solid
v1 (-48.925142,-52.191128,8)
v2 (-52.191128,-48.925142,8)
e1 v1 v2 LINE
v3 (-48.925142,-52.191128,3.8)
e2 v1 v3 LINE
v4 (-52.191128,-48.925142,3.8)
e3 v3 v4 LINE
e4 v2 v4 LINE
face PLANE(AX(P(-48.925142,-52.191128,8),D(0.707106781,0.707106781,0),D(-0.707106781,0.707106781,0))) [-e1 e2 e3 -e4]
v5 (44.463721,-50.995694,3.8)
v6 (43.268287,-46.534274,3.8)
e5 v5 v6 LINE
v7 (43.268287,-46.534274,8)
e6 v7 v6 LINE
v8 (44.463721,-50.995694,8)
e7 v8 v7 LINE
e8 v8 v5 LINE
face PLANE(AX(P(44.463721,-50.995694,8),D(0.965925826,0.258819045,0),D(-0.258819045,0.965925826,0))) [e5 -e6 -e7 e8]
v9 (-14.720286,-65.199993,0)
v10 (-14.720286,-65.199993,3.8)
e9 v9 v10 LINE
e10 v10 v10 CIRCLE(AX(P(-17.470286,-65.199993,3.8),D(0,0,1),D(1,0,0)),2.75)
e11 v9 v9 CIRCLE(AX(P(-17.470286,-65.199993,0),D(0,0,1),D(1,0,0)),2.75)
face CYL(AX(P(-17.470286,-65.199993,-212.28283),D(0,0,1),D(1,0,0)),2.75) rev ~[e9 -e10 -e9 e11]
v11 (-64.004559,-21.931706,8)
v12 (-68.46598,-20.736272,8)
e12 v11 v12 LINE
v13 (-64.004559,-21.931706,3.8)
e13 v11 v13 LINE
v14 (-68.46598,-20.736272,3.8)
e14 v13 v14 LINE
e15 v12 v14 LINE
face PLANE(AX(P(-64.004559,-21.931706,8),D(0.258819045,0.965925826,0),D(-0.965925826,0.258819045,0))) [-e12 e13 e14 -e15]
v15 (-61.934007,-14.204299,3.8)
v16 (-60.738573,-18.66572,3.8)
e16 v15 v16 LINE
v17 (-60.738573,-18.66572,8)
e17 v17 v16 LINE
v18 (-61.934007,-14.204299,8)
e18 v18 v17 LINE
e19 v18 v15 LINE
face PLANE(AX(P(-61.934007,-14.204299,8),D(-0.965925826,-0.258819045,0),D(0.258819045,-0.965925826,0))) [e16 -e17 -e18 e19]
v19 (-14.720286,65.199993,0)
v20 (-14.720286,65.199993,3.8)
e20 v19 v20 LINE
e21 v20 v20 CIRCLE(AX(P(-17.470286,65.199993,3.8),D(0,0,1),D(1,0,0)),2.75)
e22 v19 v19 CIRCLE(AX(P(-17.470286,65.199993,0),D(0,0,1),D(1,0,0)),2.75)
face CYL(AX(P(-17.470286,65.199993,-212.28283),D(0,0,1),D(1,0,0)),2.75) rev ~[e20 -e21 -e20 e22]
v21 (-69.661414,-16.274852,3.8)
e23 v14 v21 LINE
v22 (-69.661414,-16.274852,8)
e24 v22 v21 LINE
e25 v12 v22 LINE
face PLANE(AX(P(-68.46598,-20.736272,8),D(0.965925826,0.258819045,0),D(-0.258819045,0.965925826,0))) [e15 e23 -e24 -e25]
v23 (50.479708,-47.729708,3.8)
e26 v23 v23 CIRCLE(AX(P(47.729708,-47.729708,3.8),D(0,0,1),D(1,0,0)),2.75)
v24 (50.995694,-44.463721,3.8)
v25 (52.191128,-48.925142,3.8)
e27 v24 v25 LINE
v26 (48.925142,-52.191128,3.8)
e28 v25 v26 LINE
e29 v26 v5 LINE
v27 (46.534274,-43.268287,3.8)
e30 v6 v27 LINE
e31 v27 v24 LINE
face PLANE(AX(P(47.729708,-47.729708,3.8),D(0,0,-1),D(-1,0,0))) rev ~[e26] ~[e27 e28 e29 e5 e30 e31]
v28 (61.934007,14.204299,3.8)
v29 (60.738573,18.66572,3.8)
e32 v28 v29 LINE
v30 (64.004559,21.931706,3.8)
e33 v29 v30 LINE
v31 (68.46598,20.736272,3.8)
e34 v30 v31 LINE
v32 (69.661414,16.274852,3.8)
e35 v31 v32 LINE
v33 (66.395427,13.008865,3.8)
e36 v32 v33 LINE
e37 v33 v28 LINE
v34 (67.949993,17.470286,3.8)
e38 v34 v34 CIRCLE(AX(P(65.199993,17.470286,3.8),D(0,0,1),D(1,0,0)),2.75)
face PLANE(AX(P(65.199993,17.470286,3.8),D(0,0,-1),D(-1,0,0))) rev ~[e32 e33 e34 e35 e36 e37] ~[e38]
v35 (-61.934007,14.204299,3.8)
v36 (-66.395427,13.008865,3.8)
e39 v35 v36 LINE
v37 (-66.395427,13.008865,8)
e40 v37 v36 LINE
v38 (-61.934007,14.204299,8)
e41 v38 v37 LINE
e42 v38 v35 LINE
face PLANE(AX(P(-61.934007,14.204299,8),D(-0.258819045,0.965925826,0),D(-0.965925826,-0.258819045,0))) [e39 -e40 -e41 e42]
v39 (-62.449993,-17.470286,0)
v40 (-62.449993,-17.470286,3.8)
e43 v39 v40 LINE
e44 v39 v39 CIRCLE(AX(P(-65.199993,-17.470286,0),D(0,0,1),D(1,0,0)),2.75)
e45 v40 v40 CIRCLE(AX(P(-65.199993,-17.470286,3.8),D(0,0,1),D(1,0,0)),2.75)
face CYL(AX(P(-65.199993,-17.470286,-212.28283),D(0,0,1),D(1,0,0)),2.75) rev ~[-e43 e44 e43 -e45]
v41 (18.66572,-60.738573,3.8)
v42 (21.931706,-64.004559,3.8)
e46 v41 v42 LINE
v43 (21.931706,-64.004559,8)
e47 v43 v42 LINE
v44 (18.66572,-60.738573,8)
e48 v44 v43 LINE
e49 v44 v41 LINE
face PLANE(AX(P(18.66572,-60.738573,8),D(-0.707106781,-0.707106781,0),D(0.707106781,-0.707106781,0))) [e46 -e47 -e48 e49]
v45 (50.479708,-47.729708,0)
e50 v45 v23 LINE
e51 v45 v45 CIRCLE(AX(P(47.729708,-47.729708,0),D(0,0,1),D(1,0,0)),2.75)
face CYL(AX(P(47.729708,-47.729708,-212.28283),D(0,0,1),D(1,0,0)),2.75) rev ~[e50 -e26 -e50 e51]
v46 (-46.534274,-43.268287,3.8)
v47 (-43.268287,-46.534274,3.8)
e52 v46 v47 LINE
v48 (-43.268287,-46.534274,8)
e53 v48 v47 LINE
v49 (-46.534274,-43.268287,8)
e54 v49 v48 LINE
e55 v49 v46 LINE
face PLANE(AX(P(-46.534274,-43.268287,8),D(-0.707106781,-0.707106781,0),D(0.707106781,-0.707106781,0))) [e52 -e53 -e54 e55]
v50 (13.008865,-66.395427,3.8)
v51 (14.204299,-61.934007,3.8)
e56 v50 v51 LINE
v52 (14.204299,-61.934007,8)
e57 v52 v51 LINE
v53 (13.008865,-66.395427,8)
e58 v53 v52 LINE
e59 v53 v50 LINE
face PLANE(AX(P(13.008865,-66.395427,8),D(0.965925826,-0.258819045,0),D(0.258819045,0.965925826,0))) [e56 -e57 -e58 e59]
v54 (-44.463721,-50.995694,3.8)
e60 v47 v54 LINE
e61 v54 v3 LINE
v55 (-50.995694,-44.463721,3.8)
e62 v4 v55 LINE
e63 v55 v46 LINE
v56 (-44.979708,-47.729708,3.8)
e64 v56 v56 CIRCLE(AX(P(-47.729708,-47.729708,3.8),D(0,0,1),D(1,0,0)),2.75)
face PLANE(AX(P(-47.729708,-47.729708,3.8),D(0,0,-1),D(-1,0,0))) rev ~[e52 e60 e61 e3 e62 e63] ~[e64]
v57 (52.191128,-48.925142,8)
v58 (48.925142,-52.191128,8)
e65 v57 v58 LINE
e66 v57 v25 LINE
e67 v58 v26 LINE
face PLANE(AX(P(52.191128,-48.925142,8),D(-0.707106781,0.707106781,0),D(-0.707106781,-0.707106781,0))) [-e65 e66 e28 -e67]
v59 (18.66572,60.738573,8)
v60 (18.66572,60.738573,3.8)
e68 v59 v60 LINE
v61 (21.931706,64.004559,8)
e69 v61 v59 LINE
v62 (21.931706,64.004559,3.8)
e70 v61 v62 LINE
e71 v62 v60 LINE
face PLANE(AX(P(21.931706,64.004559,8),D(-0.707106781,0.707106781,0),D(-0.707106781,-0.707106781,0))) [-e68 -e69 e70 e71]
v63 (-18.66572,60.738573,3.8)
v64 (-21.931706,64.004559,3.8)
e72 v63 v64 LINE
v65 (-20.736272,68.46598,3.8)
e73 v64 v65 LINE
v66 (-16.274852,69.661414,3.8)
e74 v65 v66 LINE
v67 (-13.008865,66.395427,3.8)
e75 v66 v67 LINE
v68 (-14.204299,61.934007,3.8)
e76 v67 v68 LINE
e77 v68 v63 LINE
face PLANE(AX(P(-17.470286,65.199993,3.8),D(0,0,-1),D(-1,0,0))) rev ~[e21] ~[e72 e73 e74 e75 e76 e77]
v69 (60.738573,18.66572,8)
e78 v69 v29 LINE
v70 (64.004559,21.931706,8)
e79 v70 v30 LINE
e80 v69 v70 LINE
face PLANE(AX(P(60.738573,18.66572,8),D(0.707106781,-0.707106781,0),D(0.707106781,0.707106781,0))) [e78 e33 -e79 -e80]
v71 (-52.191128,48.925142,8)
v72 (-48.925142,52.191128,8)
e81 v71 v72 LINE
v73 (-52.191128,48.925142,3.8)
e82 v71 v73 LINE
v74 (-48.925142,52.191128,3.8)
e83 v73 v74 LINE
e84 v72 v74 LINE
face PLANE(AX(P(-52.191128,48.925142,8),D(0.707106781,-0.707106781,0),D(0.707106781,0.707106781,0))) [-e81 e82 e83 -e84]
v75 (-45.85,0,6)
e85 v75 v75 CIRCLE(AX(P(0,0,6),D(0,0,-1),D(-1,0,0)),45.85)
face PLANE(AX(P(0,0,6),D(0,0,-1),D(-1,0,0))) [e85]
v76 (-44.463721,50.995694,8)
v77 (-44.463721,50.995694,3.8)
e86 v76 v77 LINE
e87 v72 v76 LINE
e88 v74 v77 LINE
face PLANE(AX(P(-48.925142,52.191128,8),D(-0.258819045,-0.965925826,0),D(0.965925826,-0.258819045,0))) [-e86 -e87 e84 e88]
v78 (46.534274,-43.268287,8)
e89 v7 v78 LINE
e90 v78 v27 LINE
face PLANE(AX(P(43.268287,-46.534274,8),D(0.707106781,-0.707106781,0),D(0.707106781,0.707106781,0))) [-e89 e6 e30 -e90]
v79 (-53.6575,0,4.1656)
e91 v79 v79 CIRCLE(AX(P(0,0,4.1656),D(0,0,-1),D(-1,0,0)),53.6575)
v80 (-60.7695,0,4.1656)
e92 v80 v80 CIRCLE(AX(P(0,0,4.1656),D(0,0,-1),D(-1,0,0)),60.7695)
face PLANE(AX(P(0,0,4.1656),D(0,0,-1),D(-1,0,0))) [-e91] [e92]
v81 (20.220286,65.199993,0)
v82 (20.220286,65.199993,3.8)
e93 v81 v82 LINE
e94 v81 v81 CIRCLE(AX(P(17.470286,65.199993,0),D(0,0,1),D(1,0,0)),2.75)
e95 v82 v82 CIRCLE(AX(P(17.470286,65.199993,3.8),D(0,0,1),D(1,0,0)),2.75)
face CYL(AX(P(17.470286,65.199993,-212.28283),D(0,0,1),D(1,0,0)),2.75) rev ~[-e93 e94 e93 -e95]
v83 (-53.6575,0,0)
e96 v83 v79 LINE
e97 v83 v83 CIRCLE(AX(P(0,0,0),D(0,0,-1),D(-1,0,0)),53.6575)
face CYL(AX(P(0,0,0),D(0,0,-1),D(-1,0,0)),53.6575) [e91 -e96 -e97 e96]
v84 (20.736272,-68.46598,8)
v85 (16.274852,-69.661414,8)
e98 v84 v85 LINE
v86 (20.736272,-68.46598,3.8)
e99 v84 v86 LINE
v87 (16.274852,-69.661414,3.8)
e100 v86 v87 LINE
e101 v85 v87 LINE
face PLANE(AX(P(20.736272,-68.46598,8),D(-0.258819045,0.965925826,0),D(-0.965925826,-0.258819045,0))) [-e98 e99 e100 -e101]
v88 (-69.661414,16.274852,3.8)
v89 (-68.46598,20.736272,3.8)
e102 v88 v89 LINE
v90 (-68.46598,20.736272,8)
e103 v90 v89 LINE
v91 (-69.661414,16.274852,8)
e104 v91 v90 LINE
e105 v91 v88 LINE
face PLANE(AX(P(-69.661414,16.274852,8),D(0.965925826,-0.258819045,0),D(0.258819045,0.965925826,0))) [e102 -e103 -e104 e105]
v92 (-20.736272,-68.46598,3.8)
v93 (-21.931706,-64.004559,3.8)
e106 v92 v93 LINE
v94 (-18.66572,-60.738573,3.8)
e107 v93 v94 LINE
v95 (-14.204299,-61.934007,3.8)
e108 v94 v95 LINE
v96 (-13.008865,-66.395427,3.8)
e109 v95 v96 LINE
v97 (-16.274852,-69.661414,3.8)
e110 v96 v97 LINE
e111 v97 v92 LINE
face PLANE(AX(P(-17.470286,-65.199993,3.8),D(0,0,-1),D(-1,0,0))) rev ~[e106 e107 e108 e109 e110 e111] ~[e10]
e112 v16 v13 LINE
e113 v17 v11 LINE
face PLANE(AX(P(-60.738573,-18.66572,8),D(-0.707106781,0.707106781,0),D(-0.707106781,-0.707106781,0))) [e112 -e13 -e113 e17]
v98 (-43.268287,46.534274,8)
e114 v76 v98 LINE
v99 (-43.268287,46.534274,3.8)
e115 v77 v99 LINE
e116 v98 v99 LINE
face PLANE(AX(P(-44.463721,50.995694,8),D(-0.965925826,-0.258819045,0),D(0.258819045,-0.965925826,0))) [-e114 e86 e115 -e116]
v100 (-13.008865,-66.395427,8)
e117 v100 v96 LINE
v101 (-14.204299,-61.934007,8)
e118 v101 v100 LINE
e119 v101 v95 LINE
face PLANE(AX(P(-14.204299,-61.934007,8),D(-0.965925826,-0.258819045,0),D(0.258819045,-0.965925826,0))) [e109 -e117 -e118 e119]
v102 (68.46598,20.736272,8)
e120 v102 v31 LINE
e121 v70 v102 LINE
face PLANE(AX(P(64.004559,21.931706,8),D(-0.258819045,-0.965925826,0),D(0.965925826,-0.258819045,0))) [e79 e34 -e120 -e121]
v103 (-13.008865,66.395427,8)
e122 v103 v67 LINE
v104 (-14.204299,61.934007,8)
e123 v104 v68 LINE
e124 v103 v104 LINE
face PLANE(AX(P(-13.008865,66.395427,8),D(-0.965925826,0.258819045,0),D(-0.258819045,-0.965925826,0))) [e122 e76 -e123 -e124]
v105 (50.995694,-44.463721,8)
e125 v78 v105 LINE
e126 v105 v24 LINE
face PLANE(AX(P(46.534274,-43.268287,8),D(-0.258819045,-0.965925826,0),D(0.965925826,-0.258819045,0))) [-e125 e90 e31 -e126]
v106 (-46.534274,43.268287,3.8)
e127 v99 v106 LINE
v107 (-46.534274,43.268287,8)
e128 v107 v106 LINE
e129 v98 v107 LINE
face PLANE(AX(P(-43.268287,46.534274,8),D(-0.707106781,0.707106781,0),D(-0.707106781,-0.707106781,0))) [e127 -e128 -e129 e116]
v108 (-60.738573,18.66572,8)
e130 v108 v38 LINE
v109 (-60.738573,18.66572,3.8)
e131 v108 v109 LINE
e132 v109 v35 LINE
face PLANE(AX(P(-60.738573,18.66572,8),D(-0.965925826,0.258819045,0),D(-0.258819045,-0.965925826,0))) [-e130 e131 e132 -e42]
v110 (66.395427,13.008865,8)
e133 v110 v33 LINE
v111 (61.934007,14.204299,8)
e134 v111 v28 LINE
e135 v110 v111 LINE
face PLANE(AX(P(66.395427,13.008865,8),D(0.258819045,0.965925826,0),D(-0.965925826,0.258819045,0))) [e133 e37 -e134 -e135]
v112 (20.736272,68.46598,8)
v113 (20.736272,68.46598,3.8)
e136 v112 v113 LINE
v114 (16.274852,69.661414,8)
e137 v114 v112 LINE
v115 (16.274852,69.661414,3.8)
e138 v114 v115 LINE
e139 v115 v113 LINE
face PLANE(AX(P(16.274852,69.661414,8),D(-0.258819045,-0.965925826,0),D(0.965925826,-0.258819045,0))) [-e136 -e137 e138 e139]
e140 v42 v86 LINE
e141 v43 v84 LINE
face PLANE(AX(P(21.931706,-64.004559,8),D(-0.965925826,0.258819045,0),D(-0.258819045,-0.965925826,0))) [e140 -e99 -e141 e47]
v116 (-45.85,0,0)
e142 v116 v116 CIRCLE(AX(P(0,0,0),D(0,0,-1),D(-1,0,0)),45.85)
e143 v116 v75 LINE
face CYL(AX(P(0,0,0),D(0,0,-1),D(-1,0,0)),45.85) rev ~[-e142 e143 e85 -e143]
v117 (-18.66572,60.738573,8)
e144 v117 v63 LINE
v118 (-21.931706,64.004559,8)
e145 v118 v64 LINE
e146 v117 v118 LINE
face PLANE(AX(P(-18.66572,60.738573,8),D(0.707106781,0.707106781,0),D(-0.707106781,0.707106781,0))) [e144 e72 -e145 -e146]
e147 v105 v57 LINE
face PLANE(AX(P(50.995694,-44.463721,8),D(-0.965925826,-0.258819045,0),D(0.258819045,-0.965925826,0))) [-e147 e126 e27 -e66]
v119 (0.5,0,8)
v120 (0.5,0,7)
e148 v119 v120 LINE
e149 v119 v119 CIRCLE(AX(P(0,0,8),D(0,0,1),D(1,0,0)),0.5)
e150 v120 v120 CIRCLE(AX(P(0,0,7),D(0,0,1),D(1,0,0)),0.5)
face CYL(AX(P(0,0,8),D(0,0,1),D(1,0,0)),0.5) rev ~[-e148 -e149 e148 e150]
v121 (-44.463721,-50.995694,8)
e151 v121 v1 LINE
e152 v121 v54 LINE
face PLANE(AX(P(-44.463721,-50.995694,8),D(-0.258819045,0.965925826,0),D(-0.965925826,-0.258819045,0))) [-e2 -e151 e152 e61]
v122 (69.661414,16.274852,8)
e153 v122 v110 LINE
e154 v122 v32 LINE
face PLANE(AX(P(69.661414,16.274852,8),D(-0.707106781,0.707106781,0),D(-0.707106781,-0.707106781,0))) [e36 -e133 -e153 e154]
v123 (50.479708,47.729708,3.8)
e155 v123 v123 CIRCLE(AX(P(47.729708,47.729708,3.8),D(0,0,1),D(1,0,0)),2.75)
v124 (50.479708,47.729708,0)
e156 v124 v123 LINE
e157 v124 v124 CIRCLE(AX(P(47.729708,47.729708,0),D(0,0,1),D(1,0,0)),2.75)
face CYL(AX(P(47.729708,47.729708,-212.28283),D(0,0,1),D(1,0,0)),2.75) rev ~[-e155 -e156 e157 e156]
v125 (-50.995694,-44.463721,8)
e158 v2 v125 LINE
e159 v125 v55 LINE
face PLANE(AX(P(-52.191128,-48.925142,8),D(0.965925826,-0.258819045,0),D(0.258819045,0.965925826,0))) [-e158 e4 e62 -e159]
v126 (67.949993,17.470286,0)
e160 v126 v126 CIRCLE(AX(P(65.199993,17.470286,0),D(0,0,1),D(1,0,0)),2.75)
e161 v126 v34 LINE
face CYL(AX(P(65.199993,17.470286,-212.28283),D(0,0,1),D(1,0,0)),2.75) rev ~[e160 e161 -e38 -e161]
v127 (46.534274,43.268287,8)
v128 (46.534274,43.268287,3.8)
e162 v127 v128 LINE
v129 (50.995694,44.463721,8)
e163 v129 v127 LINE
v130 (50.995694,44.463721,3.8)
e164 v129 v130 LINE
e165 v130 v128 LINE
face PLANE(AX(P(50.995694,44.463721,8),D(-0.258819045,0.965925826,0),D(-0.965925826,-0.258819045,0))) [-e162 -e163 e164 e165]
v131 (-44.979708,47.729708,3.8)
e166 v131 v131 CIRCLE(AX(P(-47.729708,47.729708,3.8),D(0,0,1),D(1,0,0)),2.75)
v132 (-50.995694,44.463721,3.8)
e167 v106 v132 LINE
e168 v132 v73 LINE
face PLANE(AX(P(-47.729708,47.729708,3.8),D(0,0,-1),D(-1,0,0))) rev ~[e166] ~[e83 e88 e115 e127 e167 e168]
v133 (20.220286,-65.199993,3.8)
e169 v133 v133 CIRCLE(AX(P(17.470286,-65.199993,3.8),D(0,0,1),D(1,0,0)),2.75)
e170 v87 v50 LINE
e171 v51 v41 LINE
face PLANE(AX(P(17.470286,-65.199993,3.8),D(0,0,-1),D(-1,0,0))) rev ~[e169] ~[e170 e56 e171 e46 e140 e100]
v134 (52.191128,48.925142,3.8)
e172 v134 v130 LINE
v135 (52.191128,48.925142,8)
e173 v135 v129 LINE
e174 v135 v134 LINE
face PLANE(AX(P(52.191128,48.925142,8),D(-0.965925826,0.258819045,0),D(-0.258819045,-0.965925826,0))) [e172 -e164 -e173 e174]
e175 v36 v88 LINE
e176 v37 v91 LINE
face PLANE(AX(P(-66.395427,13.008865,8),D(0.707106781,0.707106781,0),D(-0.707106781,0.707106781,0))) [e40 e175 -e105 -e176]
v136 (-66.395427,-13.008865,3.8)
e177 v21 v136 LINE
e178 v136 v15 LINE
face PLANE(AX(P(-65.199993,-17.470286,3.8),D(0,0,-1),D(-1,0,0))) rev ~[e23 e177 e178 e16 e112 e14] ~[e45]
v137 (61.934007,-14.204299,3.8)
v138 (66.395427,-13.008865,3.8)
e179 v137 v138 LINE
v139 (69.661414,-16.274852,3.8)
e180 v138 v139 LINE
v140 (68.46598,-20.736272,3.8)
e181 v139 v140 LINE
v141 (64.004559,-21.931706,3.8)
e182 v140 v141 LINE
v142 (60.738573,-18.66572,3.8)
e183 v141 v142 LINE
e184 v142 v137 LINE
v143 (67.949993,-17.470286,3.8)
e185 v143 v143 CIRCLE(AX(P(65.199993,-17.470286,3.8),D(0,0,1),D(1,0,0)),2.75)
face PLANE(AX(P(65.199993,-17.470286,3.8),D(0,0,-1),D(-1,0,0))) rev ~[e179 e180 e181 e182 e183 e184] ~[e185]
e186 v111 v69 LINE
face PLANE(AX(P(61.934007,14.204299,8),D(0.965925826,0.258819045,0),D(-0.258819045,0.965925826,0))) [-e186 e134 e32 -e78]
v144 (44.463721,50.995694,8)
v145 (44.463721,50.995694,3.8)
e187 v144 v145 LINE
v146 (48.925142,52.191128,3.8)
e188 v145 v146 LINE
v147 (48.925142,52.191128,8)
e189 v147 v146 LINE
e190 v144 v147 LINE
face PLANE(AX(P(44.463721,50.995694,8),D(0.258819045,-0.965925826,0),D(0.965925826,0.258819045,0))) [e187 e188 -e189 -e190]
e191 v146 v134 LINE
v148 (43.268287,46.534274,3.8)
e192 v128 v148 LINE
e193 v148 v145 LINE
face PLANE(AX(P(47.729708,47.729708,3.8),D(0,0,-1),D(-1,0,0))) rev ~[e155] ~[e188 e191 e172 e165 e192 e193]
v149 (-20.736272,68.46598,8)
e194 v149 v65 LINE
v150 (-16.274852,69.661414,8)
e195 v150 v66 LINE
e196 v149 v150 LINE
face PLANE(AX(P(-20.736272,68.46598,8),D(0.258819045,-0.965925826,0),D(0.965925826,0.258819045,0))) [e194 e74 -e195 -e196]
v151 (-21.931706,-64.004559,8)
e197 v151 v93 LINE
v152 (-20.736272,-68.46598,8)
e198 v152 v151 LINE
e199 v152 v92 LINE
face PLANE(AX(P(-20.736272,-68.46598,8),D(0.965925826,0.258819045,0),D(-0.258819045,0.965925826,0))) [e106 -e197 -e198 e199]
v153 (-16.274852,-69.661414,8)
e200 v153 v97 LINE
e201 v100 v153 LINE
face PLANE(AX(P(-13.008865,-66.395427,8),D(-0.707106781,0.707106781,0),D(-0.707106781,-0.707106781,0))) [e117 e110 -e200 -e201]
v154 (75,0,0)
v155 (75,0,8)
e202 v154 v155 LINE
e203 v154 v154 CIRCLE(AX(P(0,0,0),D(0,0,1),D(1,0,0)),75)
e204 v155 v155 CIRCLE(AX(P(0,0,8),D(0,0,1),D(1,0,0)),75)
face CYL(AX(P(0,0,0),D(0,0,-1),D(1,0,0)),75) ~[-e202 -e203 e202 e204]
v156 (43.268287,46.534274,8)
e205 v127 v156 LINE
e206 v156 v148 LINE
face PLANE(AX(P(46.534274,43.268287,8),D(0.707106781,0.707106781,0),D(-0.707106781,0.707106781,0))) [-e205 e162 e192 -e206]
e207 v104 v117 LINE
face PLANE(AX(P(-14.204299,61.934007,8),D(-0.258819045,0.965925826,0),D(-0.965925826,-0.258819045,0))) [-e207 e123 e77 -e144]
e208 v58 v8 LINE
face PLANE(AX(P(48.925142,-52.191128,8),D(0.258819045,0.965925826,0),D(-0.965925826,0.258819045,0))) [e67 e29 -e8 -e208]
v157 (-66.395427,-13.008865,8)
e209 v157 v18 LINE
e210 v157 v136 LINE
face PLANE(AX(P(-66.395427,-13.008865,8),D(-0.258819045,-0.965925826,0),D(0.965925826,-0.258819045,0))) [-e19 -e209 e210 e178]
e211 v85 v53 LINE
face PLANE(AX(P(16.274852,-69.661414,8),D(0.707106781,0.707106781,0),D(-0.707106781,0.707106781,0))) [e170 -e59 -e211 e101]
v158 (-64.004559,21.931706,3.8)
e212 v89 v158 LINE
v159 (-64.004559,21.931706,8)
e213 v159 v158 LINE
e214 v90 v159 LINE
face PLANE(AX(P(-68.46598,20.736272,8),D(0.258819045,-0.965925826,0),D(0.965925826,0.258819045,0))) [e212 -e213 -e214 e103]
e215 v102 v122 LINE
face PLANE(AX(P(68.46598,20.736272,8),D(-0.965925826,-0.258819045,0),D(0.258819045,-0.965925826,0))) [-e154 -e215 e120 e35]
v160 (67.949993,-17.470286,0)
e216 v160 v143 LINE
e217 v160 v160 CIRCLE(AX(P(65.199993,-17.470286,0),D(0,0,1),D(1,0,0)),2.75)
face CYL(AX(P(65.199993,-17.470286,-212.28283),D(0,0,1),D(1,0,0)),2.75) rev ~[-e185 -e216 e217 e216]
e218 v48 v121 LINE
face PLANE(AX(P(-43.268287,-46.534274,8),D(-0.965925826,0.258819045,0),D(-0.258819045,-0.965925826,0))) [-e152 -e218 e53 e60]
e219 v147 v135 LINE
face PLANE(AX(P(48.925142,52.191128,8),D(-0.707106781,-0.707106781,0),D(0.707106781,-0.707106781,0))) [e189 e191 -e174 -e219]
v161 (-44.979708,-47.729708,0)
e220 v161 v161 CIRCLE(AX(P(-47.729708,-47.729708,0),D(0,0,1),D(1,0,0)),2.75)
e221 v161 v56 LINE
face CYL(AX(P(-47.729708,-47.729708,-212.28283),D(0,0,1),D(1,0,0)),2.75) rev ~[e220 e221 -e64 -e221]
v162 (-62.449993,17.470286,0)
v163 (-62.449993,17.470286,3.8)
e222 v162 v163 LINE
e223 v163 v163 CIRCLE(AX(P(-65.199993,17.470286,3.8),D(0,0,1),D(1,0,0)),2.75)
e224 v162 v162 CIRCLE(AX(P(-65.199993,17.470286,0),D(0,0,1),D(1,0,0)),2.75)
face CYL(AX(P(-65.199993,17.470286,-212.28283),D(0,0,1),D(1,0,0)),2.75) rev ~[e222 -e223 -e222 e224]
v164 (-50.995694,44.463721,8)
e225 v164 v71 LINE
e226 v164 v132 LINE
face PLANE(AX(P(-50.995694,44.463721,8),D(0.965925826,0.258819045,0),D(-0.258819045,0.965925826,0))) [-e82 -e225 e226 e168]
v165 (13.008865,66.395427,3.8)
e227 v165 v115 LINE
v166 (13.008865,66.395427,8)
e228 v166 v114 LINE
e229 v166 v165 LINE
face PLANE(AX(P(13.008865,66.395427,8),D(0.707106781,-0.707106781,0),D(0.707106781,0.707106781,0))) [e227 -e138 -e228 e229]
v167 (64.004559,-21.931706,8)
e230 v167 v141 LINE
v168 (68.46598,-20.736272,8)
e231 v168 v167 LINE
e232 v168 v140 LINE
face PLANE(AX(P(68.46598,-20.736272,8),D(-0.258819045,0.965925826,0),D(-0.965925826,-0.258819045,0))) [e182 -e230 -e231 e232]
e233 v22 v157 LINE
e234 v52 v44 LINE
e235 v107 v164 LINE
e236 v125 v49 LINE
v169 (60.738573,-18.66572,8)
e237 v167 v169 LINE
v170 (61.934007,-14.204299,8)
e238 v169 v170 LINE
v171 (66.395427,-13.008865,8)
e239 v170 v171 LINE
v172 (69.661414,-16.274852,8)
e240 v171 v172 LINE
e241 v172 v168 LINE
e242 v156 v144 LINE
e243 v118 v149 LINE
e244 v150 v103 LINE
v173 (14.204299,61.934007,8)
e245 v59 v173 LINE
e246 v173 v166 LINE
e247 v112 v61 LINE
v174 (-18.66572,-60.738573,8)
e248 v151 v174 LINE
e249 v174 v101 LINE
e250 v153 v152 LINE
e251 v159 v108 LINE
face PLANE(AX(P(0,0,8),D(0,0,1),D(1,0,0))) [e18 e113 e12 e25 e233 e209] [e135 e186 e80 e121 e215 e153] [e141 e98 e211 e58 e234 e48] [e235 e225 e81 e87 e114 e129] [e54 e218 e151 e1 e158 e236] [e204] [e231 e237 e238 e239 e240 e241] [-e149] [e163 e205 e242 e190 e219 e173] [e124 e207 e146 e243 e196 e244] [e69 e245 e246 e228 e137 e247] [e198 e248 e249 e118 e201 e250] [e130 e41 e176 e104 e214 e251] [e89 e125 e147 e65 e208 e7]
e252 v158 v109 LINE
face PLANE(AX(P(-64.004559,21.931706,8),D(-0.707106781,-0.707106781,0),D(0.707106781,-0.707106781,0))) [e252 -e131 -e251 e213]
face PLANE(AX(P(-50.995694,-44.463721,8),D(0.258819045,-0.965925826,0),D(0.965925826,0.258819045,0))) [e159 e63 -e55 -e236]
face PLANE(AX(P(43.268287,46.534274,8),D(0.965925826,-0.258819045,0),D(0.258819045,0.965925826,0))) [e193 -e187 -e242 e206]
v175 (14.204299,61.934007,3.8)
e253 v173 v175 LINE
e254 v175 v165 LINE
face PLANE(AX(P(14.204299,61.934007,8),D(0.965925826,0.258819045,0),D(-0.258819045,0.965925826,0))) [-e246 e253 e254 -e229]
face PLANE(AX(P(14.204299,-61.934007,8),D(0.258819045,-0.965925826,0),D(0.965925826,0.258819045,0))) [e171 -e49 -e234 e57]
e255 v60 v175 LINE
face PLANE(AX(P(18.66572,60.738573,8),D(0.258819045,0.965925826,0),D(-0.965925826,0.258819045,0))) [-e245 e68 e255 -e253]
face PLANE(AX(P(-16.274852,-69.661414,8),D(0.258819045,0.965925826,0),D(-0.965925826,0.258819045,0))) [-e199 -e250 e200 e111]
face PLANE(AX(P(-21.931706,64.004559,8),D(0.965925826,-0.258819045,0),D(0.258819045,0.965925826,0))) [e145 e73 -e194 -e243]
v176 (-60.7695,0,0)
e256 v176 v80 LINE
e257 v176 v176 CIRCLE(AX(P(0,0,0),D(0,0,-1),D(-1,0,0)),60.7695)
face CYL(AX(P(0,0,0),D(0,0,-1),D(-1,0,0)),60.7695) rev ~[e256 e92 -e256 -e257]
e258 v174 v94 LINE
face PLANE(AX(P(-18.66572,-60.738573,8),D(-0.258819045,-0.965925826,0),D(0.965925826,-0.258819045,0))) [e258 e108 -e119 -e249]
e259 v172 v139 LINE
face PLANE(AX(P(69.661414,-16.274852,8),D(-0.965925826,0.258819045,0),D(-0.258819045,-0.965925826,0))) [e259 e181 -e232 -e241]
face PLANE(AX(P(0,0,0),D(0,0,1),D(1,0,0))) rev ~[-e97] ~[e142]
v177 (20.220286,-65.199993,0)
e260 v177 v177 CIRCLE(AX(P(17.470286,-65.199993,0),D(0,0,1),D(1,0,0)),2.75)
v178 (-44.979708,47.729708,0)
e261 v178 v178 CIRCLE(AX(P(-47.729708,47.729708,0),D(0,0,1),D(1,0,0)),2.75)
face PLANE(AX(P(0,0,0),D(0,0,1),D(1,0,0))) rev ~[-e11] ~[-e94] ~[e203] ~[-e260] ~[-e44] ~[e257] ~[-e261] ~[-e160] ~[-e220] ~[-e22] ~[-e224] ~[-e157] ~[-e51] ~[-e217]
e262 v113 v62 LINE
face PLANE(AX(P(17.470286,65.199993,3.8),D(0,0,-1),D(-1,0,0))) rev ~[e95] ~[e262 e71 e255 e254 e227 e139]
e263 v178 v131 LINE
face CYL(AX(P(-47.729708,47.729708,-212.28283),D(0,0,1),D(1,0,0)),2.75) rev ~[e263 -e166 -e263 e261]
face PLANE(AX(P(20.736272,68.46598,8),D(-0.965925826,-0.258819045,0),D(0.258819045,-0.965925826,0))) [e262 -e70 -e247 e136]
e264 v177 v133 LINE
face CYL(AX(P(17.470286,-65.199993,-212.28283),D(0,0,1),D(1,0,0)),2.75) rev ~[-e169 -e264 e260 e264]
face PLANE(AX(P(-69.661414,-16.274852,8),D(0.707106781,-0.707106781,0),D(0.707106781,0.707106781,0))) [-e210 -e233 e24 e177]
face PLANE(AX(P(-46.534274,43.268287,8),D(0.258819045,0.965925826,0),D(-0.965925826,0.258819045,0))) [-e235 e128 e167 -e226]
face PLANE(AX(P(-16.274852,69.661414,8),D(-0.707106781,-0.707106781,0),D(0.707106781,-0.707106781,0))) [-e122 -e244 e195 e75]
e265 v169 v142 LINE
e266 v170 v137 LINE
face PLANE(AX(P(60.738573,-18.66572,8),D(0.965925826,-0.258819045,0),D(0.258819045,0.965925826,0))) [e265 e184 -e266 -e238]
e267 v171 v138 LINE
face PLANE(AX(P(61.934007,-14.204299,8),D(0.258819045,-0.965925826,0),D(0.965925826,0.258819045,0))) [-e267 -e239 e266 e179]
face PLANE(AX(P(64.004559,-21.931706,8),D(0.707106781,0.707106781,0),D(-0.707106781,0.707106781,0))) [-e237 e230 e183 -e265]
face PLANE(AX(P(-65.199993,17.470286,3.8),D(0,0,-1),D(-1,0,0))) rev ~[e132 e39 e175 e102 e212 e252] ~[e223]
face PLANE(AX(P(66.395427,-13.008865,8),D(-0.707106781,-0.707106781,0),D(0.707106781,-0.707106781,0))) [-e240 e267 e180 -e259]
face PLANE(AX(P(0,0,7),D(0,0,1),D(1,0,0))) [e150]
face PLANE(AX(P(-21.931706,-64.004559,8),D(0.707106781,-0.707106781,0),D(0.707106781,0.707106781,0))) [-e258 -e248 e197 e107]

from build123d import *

# Parameters (mm, degrees)
SKETCH1_R            = 75
BOSS_EXTRUDE1_DEPTH  = 8
M5_CLEARANCE_HOLE1_D = 5.5
CUT_EXTRUDE2_DEPTH   = 4.2
SKETCH11_R           = 45.85
CUT_EXTRUDE3_DEPTH   = 6
SKETCH12_R           = 60.7695
SKETCH12_R_2         = 53.6575
CUT_EXTRUDE4_DEPTH   = 4.1656
SKETCH14_R           = 0.5
CENTER_HOLE_DEPTH    = 1


with BuildPart() as part:
    # Sketch1 → Boss-Extrude1 (new body)
    with BuildSketch(Plane.XY):
        Circle(SKETCH1_R)
    extrude(amount=BOSS_EXTRUDE1_DEPTH)

    # M5 Clearance Hole1 (through all)
    with Locations(Plane(origin=(0, 0, 0), x_dir=(-1, 0, 0), z_dir=(0, 0, -1))):
        with Locations((-17.470285544, -65.199993275), (-47.72970773, 47.72970773), (65.199993275, -17.470285544), (47.72970773, -47.72970773), (-65.199993275, 17.470285544), (-17.470285544, 65.199993275), (-65.199993275, -17.470285544), (-47.72970773, -47.72970773), (17.470285544, -65.199993275), (65.199993275, 17.470285544), (47.72970773, 47.72970773), (17.470285544, 65.199993275)):
            Hole(M5_CLEARANCE_HOLE1_D / 2)

    # Sketch6 → Cut-Extrude2 (cut)
    with BuildSketch(Plane(origin=(0, 0, 8), x_dir=(-1, 0, 0), z_dir=(0, 0, -1))):
        Polygon((-43.268287443, 46.534273767), (-44.463721406, 50.995694054), (-48.925141693, 52.191128017), (-52.191128017, 48.925141693), (-50.995694054, 44.463721406), (-46.534273767, 43.268287443), align=None)
        Polygon((-13.008865258, 66.395427237), (-16.274851582, 69.661413561), (-20.736271868, 68.465979598), (-21.931705831, 64.004559312), (-18.665719507, 60.738572988), (-14.204299221, 61.934006951), align=None)
        Polygon((21.931705831, 64.004559312), (20.736271868, 68.465979598), (16.274851582, 69.661413561), (13.008865258, 66.395427237), (14.204299221, 61.934006951), (18.665719507, 60.738572988), align=None)
        Polygon((50.995694054, 44.463721406), (52.191128017, 48.925141693), (48.925141693, 52.191128017), (44.463721406, 50.995694054), (43.268287443, 46.534273767), (46.534273767, 43.268287444), align=None)
        Polygon((66.395427237, 13.008865258), (69.661413561, 16.274851582), (68.465979598, 20.736271868), (64.004559312, 21.931705831), (60.738572988, 18.665719507), (61.934006951, 14.204299221), align=None)
        Polygon((64.004559312, -21.931705831), (68.465979598, -20.736271868), (69.661413561, -16.274851582), (66.395427237, -13.008865258), (61.934006951, -14.204299221), (60.738572988, -18.665719507), align=None)
        Polygon((44.463721406, -50.995694054), (48.925141693, -52.191128017), (52.191128017, -48.925141693), (50.995694054, -44.463721406), (46.534273767, -43.268287443), (43.268287444, -46.534273767), align=None)
        Polygon((13.008865258, -66.395427237), (16.274851582, -69.661413561), (20.736271868, -68.465979598), (21.931705831, -64.004559312), (18.665719507, -60.738572988), (14.204299221, -61.934006951), align=None)
        Polygon((-21.931705831, -64.004559312), (-20.736271868, -68.465979598), (-16.274851582, -69.661413561), (-13.008865258, -66.395427237), (-14.204299221, -61.934006951), (-18.665719507, -60.738572988), align=None)
        Polygon((-50.995694054, -44.463721406), (-52.191128017, -48.925141693), (-48.925141693, -52.191128017), (-44.463721406, -50.995694054), (-43.268287443, -46.534273767), (-46.534273767, -43.268287443), align=None)
        Polygon((-66.395427237, -13.008865258), (-69.661413561, -16.274851582), (-68.465979598, -20.736271868), (-64.004559312, -21.931705831), (-60.738572988, -18.665719507), (-61.934006951, -14.204299221), align=None)
        Polygon((-64.004559312, 21.931705831), (-68.465979598, 20.736271868), (-69.661413561, 16.274851582), (-66.395427237, 13.008865258), (-61.934006951, 14.204299221), (-60.738572988, 18.665719507), align=None)
    extrude(amount=CUT_EXTRUDE2_DEPTH, mode=Mode.SUBTRACT)

    # Sketch11 → Cut-Extrude3 (cut)
    with BuildSketch(Plane(origin=(0, 0, 0), x_dir=(-1, 0, 0), z_dir=(0, 0, -1))):
        Circle(SKETCH11_R)
    extrude(amount=-CUT_EXTRUDE3_DEPTH, mode=Mode.SUBTRACT)

    # Sketch12 → Cut-Extrude4 (cut)
    with BuildSketch(Plane(origin=(0, 0, 0), x_dir=(-1, 0, 0), z_dir=(0, 0, -1))):
        Circle(SKETCH12_R)
        Circle(SKETCH12_R_2, mode=Mode.SUBTRACT)
    extrude(amount=-CUT_EXTRUDE4_DEPTH, mode=Mode.SUBTRACT)

    # Sketch14 → center hole (cut)
    with BuildSketch(Plane.XY.offset(8)):
        Circle(SKETCH14_R)
    extrude(amount=-CENTER_HOLE_DEPTH, mode=Mode.SUBTRACT)


solid = part.part
